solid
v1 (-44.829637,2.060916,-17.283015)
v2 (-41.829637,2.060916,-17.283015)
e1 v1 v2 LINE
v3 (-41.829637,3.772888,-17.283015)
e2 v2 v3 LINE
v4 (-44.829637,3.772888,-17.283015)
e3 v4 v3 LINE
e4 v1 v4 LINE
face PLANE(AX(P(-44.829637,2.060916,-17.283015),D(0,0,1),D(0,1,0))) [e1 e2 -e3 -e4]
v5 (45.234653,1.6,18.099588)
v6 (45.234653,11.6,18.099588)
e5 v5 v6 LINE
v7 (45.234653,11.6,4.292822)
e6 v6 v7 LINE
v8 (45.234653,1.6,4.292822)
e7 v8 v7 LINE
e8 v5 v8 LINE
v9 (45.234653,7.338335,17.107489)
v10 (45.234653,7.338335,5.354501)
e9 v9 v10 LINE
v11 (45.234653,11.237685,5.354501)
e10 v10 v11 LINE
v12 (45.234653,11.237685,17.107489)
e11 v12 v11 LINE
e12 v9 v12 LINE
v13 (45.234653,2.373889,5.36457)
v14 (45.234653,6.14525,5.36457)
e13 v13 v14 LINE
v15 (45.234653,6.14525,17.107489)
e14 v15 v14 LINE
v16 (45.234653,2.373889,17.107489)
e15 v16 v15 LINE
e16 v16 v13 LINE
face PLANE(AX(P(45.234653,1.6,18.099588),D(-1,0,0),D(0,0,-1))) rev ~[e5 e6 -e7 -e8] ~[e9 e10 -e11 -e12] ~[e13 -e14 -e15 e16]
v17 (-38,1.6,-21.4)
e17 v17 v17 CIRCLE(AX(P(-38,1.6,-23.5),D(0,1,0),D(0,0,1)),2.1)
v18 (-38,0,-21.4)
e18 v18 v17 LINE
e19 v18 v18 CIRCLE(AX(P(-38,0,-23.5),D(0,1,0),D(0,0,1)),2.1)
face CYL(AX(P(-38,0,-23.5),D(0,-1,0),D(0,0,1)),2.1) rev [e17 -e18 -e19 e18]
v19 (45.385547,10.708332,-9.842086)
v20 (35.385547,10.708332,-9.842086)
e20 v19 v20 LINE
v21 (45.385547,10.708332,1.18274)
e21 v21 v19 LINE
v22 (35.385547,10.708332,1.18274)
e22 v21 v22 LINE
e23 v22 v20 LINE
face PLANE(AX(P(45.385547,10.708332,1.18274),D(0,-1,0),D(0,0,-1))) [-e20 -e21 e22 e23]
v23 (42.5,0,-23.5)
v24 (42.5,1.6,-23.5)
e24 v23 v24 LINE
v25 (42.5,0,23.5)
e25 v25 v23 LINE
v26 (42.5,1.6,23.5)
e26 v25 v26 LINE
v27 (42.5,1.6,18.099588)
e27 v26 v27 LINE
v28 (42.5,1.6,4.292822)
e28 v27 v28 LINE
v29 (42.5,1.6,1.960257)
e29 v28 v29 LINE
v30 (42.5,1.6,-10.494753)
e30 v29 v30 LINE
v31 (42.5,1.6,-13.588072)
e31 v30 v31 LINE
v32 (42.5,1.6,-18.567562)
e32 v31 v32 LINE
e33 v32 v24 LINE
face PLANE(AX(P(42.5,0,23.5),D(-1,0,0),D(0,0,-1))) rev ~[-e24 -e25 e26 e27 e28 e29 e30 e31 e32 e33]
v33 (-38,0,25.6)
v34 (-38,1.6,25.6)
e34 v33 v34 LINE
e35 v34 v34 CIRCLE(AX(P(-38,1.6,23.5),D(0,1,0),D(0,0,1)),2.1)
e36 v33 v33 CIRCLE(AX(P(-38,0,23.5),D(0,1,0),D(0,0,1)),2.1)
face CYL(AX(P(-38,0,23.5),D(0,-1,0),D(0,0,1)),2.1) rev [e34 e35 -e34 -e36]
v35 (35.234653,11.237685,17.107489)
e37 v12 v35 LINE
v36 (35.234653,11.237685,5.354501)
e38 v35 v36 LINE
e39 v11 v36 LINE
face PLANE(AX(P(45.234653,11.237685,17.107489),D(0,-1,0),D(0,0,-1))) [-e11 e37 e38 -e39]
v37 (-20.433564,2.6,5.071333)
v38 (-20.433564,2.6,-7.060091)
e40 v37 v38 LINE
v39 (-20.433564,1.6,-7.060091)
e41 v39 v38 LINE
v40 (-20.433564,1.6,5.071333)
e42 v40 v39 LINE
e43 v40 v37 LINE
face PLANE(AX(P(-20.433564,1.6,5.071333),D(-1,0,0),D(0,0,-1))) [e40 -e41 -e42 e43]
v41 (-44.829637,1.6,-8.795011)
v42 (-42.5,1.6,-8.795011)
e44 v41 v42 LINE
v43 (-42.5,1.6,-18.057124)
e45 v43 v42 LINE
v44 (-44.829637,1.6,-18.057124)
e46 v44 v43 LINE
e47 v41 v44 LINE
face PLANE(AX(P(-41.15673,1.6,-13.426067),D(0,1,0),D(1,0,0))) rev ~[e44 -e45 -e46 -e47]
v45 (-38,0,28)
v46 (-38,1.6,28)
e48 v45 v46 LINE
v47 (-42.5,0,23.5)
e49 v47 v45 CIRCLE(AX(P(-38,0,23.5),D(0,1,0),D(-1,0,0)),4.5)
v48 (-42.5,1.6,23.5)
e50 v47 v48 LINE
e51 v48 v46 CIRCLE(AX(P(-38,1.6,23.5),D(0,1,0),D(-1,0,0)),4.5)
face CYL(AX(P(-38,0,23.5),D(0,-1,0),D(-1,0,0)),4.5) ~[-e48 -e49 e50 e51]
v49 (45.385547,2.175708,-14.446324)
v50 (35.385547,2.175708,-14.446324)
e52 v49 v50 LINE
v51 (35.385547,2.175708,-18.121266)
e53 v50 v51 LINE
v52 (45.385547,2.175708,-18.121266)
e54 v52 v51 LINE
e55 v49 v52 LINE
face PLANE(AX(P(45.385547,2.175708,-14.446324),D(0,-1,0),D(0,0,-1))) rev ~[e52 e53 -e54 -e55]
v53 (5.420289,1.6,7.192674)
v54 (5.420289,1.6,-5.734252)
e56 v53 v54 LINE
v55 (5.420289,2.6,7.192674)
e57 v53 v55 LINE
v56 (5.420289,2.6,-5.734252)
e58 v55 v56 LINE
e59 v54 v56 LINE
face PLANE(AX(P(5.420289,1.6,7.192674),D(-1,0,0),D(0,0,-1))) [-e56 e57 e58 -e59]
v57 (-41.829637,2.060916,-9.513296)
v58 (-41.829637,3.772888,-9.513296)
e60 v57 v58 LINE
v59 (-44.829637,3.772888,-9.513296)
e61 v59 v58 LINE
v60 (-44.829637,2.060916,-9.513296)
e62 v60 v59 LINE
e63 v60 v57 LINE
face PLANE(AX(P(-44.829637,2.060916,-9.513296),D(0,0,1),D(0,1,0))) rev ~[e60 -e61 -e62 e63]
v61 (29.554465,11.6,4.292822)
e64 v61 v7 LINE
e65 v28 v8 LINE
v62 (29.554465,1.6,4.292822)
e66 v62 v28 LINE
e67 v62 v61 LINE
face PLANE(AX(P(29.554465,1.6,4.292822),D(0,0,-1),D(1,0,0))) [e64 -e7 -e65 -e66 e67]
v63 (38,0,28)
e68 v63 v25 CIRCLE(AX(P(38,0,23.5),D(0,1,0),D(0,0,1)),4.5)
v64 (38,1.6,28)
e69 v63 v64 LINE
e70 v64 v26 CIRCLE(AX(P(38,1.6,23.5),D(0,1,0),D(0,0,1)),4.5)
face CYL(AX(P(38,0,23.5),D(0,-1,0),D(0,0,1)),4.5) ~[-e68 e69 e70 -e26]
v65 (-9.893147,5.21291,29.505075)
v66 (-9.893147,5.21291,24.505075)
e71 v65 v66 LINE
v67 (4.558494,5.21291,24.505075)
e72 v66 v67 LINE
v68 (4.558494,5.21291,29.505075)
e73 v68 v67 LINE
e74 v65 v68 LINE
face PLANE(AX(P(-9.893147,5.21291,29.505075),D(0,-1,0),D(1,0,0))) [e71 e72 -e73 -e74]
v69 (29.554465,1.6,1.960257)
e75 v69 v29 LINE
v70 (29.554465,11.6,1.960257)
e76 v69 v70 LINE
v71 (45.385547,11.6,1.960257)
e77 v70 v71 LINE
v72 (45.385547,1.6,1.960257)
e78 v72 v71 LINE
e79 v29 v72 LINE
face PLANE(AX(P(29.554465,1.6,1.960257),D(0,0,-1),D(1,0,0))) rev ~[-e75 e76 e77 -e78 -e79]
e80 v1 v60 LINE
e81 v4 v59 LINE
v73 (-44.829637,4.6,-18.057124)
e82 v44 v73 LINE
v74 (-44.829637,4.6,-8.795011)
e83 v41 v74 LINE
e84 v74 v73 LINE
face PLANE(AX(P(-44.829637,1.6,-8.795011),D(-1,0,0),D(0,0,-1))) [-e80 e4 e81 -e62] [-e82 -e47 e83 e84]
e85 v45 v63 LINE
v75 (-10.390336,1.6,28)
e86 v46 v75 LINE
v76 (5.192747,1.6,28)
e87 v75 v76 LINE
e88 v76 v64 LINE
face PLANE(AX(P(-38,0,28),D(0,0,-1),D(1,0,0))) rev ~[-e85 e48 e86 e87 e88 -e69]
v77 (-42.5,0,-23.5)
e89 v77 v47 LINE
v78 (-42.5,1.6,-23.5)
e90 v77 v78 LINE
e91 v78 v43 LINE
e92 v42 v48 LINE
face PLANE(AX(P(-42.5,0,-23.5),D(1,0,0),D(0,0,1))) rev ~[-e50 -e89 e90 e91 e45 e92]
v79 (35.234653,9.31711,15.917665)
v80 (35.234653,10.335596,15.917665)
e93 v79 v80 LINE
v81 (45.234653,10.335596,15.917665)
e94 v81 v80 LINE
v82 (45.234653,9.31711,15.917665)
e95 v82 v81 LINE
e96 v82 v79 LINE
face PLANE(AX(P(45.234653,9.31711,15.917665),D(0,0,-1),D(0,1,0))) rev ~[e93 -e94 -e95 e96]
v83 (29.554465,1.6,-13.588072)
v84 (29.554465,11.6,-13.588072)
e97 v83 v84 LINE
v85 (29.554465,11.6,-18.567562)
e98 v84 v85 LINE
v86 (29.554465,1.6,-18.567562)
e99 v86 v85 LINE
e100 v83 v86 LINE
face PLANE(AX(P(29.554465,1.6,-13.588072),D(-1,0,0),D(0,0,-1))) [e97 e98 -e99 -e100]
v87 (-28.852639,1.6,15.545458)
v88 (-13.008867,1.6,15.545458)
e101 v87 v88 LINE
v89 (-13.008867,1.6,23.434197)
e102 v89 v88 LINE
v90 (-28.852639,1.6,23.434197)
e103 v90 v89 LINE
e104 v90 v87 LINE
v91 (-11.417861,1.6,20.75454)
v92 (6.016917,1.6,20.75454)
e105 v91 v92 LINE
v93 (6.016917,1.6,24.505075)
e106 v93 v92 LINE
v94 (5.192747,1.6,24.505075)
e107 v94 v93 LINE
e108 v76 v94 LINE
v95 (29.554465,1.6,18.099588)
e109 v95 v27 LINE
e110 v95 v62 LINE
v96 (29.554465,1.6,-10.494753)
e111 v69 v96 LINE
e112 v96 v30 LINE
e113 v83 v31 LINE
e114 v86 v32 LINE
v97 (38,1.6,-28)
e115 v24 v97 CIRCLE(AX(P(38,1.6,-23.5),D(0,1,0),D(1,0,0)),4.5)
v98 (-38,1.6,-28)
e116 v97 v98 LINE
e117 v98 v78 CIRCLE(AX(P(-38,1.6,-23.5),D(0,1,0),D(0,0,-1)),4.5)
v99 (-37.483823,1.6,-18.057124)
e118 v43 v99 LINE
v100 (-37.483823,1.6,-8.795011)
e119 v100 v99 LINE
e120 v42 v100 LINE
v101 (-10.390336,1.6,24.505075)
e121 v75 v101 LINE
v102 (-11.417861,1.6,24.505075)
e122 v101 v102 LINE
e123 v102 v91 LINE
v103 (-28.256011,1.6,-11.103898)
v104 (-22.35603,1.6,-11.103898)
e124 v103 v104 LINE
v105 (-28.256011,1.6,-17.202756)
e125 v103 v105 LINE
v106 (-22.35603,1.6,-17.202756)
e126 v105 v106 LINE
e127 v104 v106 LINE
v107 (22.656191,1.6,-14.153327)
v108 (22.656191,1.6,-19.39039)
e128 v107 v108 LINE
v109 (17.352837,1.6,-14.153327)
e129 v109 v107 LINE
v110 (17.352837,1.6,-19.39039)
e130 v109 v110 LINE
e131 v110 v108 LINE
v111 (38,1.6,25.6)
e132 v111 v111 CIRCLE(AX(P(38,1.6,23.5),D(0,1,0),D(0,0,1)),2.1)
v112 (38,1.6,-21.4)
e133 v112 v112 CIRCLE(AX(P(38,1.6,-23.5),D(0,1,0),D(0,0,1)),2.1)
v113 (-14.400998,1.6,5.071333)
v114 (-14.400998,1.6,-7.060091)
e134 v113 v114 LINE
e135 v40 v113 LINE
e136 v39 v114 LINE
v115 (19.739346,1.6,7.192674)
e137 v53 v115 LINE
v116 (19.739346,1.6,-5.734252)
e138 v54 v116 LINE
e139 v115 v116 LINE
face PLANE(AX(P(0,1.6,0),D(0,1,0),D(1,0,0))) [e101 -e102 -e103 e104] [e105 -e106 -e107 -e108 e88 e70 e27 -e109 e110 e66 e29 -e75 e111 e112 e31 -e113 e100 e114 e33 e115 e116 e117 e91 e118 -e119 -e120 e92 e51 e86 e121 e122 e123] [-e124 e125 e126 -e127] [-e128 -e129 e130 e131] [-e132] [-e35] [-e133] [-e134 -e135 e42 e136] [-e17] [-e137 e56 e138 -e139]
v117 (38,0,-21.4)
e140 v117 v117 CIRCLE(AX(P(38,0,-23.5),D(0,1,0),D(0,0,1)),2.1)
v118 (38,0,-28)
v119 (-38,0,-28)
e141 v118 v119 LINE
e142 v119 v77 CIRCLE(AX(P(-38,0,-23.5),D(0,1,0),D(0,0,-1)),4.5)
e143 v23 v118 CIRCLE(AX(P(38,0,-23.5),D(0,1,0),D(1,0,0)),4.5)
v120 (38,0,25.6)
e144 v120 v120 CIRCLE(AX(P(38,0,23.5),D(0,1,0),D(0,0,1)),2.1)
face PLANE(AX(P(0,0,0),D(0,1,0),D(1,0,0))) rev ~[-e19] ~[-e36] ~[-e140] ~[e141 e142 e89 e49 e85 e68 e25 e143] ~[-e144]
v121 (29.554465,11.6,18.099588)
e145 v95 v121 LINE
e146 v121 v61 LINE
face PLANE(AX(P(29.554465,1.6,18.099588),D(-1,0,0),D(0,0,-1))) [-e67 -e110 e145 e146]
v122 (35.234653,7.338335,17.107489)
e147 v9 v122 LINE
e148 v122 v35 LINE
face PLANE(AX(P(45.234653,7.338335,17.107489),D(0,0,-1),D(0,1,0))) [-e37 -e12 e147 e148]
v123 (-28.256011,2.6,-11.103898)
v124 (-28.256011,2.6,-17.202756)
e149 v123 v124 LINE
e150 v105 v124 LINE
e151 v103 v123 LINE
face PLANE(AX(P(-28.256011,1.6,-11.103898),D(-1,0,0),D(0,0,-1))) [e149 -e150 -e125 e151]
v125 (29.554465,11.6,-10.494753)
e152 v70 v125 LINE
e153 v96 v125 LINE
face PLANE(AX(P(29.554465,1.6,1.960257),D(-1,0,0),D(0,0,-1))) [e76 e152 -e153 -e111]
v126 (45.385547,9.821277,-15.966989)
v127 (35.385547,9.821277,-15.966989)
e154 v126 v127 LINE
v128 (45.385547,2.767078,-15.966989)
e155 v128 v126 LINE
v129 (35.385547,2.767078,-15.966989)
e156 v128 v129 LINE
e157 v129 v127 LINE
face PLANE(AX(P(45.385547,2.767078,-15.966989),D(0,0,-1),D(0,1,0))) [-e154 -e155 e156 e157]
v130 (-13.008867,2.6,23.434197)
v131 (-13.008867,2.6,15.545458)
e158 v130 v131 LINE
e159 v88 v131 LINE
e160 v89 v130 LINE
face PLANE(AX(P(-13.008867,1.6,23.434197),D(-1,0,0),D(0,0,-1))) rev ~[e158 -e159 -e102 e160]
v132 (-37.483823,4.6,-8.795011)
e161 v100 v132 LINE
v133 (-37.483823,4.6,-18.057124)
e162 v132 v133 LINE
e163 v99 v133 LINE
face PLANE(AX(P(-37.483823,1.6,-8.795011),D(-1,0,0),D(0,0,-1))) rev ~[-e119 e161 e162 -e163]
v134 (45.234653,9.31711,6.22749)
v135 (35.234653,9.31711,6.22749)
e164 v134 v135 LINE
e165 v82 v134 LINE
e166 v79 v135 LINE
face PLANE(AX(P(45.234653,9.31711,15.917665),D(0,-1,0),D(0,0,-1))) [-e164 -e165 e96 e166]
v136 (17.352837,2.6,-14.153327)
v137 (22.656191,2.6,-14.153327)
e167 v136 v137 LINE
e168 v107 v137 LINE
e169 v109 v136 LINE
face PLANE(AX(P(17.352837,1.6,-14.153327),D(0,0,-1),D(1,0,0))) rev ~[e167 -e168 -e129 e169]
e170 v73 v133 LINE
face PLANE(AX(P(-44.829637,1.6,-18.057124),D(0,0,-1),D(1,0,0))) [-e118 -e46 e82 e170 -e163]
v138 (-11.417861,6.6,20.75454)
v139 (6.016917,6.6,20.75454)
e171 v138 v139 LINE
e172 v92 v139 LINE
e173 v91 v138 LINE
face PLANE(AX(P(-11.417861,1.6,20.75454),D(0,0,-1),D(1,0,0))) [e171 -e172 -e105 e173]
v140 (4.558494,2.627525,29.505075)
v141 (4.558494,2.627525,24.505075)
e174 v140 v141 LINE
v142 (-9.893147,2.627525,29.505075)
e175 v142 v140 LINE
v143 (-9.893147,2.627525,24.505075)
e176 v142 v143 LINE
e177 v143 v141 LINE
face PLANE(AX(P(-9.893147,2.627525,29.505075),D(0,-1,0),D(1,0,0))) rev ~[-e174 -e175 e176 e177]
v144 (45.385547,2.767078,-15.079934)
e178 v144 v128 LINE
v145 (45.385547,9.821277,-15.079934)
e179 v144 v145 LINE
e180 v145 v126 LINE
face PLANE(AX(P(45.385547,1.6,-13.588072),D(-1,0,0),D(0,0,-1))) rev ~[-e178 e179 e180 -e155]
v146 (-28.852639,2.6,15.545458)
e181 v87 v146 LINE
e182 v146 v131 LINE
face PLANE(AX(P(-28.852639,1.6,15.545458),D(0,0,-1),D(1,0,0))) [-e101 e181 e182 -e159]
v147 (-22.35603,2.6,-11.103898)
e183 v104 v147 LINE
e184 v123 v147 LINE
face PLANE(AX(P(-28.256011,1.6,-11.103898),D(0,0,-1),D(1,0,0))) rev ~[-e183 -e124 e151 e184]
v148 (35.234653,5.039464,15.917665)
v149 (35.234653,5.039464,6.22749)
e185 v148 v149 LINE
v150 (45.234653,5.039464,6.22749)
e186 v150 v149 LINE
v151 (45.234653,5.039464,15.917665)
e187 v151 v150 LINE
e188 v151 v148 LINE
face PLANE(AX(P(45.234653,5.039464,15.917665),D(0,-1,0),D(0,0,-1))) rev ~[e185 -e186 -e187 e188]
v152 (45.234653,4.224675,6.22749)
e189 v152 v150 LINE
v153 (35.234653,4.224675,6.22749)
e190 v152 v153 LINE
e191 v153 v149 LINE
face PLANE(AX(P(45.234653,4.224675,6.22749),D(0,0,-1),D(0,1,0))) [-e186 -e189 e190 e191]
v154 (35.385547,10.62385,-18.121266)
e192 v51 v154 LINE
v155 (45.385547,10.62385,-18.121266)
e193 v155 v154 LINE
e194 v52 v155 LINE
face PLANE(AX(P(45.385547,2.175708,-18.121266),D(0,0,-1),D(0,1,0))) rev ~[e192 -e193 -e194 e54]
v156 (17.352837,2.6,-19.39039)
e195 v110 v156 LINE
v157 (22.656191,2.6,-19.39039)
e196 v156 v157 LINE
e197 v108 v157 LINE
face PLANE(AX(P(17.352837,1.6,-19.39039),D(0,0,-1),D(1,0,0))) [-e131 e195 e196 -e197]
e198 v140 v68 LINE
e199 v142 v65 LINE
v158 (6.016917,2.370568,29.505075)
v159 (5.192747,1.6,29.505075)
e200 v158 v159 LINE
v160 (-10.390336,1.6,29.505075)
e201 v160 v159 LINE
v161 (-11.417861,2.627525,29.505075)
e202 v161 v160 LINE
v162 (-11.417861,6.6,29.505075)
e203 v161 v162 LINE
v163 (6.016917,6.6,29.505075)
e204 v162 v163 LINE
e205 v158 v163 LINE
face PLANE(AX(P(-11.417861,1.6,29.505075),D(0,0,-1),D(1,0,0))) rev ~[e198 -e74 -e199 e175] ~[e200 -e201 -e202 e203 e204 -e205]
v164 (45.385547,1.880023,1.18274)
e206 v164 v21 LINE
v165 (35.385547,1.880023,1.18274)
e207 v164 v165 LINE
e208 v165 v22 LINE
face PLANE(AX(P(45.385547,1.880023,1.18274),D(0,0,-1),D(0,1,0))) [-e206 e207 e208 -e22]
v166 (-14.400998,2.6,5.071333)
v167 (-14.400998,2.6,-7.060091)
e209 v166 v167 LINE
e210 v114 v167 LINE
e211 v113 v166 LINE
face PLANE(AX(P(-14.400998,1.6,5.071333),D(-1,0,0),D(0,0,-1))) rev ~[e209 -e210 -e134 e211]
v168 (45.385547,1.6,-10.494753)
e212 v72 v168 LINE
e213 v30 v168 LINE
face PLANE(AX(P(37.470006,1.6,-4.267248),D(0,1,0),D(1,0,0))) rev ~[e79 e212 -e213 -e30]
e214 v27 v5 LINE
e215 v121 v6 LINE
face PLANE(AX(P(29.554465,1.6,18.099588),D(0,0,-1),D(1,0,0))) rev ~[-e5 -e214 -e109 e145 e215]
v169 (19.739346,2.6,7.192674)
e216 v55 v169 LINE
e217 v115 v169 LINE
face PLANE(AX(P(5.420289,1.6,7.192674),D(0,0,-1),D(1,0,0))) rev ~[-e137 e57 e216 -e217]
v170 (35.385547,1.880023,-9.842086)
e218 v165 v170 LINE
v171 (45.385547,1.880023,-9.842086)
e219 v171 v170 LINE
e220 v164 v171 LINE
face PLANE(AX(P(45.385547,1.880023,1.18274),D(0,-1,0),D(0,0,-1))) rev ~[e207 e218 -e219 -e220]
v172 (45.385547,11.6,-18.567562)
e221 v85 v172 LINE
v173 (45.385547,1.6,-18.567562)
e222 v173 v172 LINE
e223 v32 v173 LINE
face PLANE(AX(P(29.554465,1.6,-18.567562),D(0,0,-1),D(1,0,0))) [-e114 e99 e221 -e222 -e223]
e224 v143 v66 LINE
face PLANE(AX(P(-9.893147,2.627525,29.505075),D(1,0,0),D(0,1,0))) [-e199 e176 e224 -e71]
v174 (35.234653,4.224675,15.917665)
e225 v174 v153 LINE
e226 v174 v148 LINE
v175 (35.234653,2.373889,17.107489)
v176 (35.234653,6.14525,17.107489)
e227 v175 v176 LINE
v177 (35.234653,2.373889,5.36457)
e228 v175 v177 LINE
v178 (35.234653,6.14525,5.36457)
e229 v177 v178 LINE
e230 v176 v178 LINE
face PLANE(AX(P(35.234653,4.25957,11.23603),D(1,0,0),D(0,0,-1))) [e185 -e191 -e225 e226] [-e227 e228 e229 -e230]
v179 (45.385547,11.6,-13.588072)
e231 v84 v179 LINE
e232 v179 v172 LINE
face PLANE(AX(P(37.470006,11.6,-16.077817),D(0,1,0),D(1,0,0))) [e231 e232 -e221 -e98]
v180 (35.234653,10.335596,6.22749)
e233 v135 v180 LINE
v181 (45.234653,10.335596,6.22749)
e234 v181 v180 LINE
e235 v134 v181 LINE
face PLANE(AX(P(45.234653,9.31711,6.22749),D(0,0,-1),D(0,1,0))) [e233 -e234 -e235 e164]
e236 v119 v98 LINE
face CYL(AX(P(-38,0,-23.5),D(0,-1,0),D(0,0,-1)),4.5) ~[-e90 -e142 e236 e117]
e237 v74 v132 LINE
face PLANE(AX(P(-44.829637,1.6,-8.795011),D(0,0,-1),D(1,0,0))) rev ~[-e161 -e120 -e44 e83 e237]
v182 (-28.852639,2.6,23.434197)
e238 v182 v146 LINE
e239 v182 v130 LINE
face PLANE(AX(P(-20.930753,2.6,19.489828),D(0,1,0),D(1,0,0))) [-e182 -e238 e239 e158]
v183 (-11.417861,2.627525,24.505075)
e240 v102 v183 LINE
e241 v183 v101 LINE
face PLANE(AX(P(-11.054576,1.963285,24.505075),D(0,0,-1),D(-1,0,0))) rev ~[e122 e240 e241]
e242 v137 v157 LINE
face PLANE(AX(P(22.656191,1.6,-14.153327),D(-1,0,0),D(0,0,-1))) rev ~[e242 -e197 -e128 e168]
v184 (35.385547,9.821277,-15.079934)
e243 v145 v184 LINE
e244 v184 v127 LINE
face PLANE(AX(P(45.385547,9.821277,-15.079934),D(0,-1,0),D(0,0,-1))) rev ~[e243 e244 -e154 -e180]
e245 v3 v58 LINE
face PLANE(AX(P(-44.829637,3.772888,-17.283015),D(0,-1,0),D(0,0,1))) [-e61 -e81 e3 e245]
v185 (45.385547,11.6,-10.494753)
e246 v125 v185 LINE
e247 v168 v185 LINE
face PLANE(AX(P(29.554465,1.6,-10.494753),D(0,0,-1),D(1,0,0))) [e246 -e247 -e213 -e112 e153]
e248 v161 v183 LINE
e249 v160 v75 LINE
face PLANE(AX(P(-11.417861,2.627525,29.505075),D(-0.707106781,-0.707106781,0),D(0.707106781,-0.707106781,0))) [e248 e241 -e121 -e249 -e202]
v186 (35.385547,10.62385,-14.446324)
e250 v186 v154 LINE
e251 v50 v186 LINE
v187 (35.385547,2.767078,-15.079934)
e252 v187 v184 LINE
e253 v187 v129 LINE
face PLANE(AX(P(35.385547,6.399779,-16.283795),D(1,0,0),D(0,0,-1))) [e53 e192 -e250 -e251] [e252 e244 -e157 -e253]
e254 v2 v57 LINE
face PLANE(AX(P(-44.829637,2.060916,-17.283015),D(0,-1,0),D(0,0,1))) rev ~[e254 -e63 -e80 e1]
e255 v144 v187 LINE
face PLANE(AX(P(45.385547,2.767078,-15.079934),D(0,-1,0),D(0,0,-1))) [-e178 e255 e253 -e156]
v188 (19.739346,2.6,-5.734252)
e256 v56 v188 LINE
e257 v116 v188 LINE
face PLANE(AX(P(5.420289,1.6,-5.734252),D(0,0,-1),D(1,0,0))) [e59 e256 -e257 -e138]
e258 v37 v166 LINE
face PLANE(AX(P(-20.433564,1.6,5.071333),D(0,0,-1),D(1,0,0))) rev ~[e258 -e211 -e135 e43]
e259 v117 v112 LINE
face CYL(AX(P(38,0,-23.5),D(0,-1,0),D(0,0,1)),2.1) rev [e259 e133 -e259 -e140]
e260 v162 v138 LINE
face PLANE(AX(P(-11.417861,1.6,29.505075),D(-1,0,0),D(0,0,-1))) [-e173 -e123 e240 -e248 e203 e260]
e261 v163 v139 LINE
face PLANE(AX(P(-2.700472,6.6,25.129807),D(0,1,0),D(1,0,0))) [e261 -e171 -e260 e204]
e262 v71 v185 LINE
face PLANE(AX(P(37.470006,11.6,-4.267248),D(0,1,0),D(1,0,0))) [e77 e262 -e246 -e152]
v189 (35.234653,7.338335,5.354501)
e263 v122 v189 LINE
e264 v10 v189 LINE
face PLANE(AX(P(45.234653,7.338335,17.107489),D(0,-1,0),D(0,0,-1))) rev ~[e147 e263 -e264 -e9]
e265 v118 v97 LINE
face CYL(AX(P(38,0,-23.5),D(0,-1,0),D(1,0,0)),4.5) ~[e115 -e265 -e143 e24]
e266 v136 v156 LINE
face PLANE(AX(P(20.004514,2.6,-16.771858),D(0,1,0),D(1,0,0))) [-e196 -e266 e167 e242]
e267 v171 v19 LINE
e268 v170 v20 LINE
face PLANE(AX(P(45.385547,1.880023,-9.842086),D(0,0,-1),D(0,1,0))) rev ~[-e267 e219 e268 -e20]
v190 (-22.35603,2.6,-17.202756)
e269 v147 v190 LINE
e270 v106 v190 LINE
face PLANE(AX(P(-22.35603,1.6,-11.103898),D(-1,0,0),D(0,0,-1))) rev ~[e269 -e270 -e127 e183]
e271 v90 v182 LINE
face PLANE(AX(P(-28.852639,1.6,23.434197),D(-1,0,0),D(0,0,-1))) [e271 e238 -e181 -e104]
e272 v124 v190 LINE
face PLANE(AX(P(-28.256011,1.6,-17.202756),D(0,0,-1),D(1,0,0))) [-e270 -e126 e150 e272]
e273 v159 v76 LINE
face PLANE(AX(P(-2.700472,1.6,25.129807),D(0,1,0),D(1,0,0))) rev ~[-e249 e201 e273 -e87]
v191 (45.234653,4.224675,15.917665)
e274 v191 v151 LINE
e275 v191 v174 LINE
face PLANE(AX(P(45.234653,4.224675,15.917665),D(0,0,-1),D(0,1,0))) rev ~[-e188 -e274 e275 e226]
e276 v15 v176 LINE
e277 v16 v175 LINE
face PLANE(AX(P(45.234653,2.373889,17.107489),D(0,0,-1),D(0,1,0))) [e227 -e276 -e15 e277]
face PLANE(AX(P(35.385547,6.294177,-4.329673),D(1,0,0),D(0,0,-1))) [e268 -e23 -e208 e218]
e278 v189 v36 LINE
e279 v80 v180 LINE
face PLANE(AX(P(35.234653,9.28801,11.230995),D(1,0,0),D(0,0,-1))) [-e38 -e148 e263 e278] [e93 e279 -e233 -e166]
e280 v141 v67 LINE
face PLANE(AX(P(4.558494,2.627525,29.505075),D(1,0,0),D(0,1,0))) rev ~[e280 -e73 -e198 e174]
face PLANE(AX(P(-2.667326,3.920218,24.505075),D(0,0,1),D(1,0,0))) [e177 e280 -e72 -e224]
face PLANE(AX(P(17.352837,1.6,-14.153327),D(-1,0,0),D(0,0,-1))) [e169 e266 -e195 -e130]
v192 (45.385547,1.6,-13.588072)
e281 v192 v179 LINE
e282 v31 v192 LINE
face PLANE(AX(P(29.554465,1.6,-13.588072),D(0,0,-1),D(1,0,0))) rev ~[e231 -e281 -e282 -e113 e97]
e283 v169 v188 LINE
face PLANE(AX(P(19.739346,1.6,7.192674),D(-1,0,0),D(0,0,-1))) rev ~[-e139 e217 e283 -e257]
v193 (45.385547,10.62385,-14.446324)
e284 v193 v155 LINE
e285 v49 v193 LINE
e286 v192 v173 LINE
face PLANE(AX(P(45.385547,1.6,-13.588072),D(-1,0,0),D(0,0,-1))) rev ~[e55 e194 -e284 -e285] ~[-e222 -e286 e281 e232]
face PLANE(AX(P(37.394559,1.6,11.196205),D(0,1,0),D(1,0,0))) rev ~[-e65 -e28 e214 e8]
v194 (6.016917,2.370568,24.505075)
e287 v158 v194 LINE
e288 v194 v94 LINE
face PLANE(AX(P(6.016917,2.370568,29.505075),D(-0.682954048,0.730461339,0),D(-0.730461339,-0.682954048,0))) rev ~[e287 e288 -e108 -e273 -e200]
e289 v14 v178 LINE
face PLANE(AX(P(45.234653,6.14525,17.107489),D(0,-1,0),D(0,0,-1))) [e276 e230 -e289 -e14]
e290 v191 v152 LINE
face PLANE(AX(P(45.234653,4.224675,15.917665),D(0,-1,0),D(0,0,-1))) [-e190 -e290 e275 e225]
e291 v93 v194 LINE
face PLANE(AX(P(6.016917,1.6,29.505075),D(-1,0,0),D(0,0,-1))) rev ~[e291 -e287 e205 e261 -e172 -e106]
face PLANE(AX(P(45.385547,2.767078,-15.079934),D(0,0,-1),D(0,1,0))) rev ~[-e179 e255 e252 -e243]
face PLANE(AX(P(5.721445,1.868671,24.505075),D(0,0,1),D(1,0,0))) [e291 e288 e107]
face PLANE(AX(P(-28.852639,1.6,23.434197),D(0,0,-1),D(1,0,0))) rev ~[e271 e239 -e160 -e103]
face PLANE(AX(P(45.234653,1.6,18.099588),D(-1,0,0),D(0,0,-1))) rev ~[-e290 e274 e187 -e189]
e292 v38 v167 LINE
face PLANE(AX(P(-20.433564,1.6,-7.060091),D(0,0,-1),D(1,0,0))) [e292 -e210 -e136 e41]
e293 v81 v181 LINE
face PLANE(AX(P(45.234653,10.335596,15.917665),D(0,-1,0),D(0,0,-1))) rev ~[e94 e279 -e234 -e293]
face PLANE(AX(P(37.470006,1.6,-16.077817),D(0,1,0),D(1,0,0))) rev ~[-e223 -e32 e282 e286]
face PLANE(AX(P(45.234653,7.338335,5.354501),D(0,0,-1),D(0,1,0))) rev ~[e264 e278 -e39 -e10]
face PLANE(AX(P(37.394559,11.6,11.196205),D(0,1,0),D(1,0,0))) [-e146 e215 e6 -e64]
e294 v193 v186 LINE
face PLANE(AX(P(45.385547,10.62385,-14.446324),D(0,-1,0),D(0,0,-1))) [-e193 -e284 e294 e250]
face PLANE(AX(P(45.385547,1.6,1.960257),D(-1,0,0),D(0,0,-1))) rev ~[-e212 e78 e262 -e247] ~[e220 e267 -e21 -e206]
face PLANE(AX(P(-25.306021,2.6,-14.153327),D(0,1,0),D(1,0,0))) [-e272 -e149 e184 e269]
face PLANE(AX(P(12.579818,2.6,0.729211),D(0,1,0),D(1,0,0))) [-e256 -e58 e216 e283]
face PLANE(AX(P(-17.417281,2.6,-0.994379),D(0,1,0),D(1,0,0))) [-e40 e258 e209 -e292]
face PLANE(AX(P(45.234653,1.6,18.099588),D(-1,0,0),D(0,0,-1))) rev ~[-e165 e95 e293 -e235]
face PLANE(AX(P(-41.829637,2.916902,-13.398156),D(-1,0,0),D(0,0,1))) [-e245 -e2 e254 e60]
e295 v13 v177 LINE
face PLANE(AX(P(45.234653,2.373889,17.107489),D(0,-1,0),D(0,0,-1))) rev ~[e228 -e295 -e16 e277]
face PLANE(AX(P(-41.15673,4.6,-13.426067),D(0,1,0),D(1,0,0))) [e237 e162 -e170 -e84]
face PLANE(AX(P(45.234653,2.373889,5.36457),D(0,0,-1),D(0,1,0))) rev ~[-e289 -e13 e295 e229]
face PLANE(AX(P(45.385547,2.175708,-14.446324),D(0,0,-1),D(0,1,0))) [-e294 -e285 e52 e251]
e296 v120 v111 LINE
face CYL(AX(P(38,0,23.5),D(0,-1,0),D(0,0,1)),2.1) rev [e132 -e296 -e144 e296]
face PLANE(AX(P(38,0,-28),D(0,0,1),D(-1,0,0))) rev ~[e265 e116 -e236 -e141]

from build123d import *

# Parameters (mm, degrees)
SKETCH_1_R          = 2.1
EXTRUDE_1_DEPTH     = 1.6
SKETCH_2_W          = 15.831082037
SKETCH_2_H          = 12.45501042
SKETCH_2_W_2        = 15.680188414
SKETCH_2_H_2        = 13.80676649
SKETCH_2_H_3        = 4.979489554
EXTRUDE_2_DEPTH     = 10
SKETCH_4_W          = 11.752987814
SKETCH_4_H          = 3.899349988
SKETCH_4_W_2        = 9.690175718
SKETCH_4_H_2        = 1.018486937
SKETCH_4_W_3        = 11.742918051
SKETCH_4_H_3        = 3.771361158
SKETCH_4_H_4        = 0.81478955
CUT_EXTRUDE_1_DEPTH = 10
SKETCH_5_W          = 11.02482594
SKETCH_5_H          = 8.828308894
CUT_EXTRUDE_3_DEPTH = 10
SKETCH_6_W          = 3.67494198
SKETCH_6_H          = 8.448142483
SKETCH_6_W_2        = 0.887054961
SKETCH_6_H_2        = 7.054198973
CUT_EXTRUDE_4_DEPTH = 10
SKETCH_7_W          = 14.31905698
SKETCH_7_H          = 12.92692644
SKETCH_7_W_2        = 6.032565672
SKETCH_7_H_2        = 12.131423274
SKETCH_7_W_3        = 5.899981811
SKETCH_7_H_3        = 6.098857603
SKETCH_7_W_4        = 5.303354437
SKETCH_7_H_4        = 5.237062506
SKETCH_7_W_5        = 15.84377138
SKETCH_7_H_5        = 7.888739725
EXTRUDE_3_DEPTH     = 1
SKETCH_8_W          = 17.434777712
SKETCH_8_H          = 8.750534821
EXTRUDE_4_DEPTH     = 5
SKETCH_9_W          = 14.45164084
SKETCH_9_H          = 2.585385288
CUT_EXTRUDE_5_DEPTH = 5
SKETCH_10_W         = 7.345813671
SKETCH_10_H         = 9.262112889
EXTRUDE_5_DEPTH     = 3
SKETCH_11_W         = 7.769719093
SKETCH_11_H         = 1.711972004
CUT_EXTRUDE_6_DEPTH = 3


with BuildPart() as part:
    # 草图1 → 凸台-拉伸1 (new body)
    with BuildSketch(Plane(origin=(0, 0, 0), x_dir=(1, 0, 0), z_dir=(0, 1, 0))):
        with BuildLine():
            Line((-38, -28), (38, -28))
            ThreePointArc((38, -28), (41.181980515, -26.681980515), (42.5, -23.5))
            Line((42.5, -23.5), (42.5, 23.5))
            ThreePointArc((42.5, 23.5), (41.181980515, 26.681980515), (38, 28))
            Line((38, 28), (-38, 28))
            ThreePointArc((-38, 28), (-41.181980515, 26.681980515), (-42.5, 23.5))
            Line((-42.5, 23.5), (-42.5, -23.5))
            ThreePointArc((-42.5, -23.5), (-41.181980515, -26.681980515), (-38, -28))
        make_face()
        with Locations(Location((-38, 23.5, 0), (0, 0, 270))):
            Circle(SKETCH_1_R, mode=Mode.SUBTRACT)
        with Locations(Location((38, 23.5, 0), (0, 0, 270))):
            Circle(SKETCH_1_R, mode=Mode.SUBTRACT)
        with Locations(Location((38, -23.5, 0), (0, 0, 270))):
            Circle(SKETCH_1_R, mode=Mode.SUBTRACT)
        with Locations(Location((-38, -23.5, 0), (0, 0, 270))):
            Circle(SKETCH_1_R, mode=Mode.SUBTRACT)
    extrude(amount=EXTRUDE_1_DEPTH)

    # 草图2 → 凸台-拉伸2 (add)
    with BuildSketch(Plane(origin=(0, 1.6, 0), x_dir=(1, 0, 0), z_dir=(0, 1, 0))):
        with Locations((37.470005744, 4.267247856)):
            Rectangle(SKETCH_2_W, SKETCH_2_H)
        with Locations((37.394558932, -11.196205219)):
            Rectangle(SKETCH_2_W_2, SKETCH_2_H_2)
        with Locations((37.470005744, 16.077817111)):
            Rectangle(SKETCH_2_W, SKETCH_2_H_3)
    extrude(amount=EXTRUDE_2_DEPTH)

    # 草图4 → 切除-拉伸1 (cut)
    # profile 1 of 2: a face of its own
    with BuildSketch(Plane(origin=(45.234653139, 0, 0), x_dir=(0, 0, -1), z_dir=(1, 0, 0))):
        with Locations((-11.23099462, 9.288009883)):
            Rectangle(SKETCH_4_W, SKETCH_4_H)
        with Locations((-11.072577375, 9.826352979)):
            Rectangle(SKETCH_4_W_2, SKETCH_4_H_2, mode=Mode.SUBTRACT)
    # profile 2 of 2: a face of its own
    with BuildSketch(Plane(origin=(45.234653139, 0, 0), x_dir=(0, 0, -1), z_dir=(1, 0, 0))):
        with Locations((-11.236029502, 4.259569612)):
            Rectangle(SKETCH_4_W_3, SKETCH_4_H_3)
        with Locations((-11.072577375, 4.632069598)):
            Rectangle(SKETCH_4_W_2, SKETCH_4_H_4, mode=Mode.SUBTRACT)
    extrude(amount=-CUT_EXTRUDE_1_DEPTH, mode=Mode.SUBTRACT)

    # 草图5 → 切除-拉伸3 (cut)
    with BuildSketch(Plane(origin=(45.385546762, 0, 0), x_dir=(0, 0, -1), z_dir=(1, 0, 0))):
        with Locations((4.329673022, 6.294177297)):
            Rectangle(SKETCH_5_W, SKETCH_5_H)
    extrude(amount=-CUT_EXTRUDE_3_DEPTH, mode=Mode.SUBTRACT)

    # 草图6 → 切除-拉伸4 (cut)
    with BuildSketch(Plane(origin=(45.385546762, 0, 0), x_dir=(0, 0, -1), z_dir=(1, 0, 0))):
        with Locations((16.283794635, 6.399779078)):
            Rectangle(SKETCH_6_W, SKETCH_6_H)
        with Locations((15.523461812, 6.294177298)):
            Rectangle(SKETCH_6_W_2, SKETCH_6_H_2, mode=Mode.SUBTRACT)
    extrude(amount=-CUT_EXTRUDE_4_DEPTH, mode=Mode.SUBTRACT)

    # 草图7 → 凸台-拉伸3 (add)
    with BuildSketch(Plane(origin=(0, 1.6, 0), x_dir=(1, 0, 0), z_dir=(0, 1, 0))):
        with Locations((12.579817698, -0.729211235)):
            Rectangle(SKETCH_7_W, SKETCH_7_H)
        with Locations((-17.417280836, 0.994378957)):
            Rectangle(SKETCH_7_W_2, SKETCH_7_H_2)
        with Locations((-25.306020561, 14.153327154)):
            Rectangle(SKETCH_7_W_3, SKETCH_7_H_3)
        with Locations((20.004513911, 16.771858407)):
            Rectangle(SKETCH_7_W_4, SKETCH_7_H_4)
        with Locations((-20.93075315, -19.489827555)):
            Rectangle(SKETCH_7_W_5, SKETCH_7_H_5)
    extrude(amount=EXTRUDE_3_DEPTH)

    # 草图8 → 凸台-拉伸4 (add)
    with BuildSketch(Plane(origin=(0, 1.6, 0), x_dir=(1, 0, 0), z_dir=(0, 1, 0))):
        with Locations((-2.700472273, -25.129807113)):
            Rectangle(SKETCH_8_W, SKETCH_8_H)
    extrude(amount=EXTRUDE_4_DEPTH)

    # 草图9 → 切除-拉伸5 (cut)
    with BuildSketch(Plane.XY.offset(29.505074523)):
        Polygon((-11.417861129, 1.6), (-11.417861129, 2.627524922), (-10.390336207, 1.6), align=None)
        with Locations((-2.667326308, 3.920217566)):
            Rectangle(SKETCH_9_W, SKETCH_9_H)
        Polygon((6.016916583, 1.6), (6.016916583, 2.370567657), (5.192747103, 1.6), align=None)
    extrude(amount=-CUT_EXTRUDE_5_DEPTH, mode=Mode.SUBTRACT)

    # 草图10 → 凸台-拉伸5 (add)
    with BuildSketch(Plane(origin=(0, 1.6, 0), x_dir=(1, 0, 0), z_dir=(0, 1, 0))):
        with Locations((-41.156730333, 13.42606725)):
            Rectangle(SKETCH_10_W, SKETCH_10_H)
    extrude(amount=EXTRUDE_5_DEPTH)

    # 草图11 → 切除-拉伸6 (cut)
    with BuildSketch(Plane.ZY.offset(44.829637168)):
        with Locations((-13.398155788, 2.916901541)):
            Rectangle(SKETCH_11_W, SKETCH_11_H)
    extrude(amount=-CUT_EXTRUDE_6_DEPTH, mode=Mode.SUBTRACT)


solid = part.part
